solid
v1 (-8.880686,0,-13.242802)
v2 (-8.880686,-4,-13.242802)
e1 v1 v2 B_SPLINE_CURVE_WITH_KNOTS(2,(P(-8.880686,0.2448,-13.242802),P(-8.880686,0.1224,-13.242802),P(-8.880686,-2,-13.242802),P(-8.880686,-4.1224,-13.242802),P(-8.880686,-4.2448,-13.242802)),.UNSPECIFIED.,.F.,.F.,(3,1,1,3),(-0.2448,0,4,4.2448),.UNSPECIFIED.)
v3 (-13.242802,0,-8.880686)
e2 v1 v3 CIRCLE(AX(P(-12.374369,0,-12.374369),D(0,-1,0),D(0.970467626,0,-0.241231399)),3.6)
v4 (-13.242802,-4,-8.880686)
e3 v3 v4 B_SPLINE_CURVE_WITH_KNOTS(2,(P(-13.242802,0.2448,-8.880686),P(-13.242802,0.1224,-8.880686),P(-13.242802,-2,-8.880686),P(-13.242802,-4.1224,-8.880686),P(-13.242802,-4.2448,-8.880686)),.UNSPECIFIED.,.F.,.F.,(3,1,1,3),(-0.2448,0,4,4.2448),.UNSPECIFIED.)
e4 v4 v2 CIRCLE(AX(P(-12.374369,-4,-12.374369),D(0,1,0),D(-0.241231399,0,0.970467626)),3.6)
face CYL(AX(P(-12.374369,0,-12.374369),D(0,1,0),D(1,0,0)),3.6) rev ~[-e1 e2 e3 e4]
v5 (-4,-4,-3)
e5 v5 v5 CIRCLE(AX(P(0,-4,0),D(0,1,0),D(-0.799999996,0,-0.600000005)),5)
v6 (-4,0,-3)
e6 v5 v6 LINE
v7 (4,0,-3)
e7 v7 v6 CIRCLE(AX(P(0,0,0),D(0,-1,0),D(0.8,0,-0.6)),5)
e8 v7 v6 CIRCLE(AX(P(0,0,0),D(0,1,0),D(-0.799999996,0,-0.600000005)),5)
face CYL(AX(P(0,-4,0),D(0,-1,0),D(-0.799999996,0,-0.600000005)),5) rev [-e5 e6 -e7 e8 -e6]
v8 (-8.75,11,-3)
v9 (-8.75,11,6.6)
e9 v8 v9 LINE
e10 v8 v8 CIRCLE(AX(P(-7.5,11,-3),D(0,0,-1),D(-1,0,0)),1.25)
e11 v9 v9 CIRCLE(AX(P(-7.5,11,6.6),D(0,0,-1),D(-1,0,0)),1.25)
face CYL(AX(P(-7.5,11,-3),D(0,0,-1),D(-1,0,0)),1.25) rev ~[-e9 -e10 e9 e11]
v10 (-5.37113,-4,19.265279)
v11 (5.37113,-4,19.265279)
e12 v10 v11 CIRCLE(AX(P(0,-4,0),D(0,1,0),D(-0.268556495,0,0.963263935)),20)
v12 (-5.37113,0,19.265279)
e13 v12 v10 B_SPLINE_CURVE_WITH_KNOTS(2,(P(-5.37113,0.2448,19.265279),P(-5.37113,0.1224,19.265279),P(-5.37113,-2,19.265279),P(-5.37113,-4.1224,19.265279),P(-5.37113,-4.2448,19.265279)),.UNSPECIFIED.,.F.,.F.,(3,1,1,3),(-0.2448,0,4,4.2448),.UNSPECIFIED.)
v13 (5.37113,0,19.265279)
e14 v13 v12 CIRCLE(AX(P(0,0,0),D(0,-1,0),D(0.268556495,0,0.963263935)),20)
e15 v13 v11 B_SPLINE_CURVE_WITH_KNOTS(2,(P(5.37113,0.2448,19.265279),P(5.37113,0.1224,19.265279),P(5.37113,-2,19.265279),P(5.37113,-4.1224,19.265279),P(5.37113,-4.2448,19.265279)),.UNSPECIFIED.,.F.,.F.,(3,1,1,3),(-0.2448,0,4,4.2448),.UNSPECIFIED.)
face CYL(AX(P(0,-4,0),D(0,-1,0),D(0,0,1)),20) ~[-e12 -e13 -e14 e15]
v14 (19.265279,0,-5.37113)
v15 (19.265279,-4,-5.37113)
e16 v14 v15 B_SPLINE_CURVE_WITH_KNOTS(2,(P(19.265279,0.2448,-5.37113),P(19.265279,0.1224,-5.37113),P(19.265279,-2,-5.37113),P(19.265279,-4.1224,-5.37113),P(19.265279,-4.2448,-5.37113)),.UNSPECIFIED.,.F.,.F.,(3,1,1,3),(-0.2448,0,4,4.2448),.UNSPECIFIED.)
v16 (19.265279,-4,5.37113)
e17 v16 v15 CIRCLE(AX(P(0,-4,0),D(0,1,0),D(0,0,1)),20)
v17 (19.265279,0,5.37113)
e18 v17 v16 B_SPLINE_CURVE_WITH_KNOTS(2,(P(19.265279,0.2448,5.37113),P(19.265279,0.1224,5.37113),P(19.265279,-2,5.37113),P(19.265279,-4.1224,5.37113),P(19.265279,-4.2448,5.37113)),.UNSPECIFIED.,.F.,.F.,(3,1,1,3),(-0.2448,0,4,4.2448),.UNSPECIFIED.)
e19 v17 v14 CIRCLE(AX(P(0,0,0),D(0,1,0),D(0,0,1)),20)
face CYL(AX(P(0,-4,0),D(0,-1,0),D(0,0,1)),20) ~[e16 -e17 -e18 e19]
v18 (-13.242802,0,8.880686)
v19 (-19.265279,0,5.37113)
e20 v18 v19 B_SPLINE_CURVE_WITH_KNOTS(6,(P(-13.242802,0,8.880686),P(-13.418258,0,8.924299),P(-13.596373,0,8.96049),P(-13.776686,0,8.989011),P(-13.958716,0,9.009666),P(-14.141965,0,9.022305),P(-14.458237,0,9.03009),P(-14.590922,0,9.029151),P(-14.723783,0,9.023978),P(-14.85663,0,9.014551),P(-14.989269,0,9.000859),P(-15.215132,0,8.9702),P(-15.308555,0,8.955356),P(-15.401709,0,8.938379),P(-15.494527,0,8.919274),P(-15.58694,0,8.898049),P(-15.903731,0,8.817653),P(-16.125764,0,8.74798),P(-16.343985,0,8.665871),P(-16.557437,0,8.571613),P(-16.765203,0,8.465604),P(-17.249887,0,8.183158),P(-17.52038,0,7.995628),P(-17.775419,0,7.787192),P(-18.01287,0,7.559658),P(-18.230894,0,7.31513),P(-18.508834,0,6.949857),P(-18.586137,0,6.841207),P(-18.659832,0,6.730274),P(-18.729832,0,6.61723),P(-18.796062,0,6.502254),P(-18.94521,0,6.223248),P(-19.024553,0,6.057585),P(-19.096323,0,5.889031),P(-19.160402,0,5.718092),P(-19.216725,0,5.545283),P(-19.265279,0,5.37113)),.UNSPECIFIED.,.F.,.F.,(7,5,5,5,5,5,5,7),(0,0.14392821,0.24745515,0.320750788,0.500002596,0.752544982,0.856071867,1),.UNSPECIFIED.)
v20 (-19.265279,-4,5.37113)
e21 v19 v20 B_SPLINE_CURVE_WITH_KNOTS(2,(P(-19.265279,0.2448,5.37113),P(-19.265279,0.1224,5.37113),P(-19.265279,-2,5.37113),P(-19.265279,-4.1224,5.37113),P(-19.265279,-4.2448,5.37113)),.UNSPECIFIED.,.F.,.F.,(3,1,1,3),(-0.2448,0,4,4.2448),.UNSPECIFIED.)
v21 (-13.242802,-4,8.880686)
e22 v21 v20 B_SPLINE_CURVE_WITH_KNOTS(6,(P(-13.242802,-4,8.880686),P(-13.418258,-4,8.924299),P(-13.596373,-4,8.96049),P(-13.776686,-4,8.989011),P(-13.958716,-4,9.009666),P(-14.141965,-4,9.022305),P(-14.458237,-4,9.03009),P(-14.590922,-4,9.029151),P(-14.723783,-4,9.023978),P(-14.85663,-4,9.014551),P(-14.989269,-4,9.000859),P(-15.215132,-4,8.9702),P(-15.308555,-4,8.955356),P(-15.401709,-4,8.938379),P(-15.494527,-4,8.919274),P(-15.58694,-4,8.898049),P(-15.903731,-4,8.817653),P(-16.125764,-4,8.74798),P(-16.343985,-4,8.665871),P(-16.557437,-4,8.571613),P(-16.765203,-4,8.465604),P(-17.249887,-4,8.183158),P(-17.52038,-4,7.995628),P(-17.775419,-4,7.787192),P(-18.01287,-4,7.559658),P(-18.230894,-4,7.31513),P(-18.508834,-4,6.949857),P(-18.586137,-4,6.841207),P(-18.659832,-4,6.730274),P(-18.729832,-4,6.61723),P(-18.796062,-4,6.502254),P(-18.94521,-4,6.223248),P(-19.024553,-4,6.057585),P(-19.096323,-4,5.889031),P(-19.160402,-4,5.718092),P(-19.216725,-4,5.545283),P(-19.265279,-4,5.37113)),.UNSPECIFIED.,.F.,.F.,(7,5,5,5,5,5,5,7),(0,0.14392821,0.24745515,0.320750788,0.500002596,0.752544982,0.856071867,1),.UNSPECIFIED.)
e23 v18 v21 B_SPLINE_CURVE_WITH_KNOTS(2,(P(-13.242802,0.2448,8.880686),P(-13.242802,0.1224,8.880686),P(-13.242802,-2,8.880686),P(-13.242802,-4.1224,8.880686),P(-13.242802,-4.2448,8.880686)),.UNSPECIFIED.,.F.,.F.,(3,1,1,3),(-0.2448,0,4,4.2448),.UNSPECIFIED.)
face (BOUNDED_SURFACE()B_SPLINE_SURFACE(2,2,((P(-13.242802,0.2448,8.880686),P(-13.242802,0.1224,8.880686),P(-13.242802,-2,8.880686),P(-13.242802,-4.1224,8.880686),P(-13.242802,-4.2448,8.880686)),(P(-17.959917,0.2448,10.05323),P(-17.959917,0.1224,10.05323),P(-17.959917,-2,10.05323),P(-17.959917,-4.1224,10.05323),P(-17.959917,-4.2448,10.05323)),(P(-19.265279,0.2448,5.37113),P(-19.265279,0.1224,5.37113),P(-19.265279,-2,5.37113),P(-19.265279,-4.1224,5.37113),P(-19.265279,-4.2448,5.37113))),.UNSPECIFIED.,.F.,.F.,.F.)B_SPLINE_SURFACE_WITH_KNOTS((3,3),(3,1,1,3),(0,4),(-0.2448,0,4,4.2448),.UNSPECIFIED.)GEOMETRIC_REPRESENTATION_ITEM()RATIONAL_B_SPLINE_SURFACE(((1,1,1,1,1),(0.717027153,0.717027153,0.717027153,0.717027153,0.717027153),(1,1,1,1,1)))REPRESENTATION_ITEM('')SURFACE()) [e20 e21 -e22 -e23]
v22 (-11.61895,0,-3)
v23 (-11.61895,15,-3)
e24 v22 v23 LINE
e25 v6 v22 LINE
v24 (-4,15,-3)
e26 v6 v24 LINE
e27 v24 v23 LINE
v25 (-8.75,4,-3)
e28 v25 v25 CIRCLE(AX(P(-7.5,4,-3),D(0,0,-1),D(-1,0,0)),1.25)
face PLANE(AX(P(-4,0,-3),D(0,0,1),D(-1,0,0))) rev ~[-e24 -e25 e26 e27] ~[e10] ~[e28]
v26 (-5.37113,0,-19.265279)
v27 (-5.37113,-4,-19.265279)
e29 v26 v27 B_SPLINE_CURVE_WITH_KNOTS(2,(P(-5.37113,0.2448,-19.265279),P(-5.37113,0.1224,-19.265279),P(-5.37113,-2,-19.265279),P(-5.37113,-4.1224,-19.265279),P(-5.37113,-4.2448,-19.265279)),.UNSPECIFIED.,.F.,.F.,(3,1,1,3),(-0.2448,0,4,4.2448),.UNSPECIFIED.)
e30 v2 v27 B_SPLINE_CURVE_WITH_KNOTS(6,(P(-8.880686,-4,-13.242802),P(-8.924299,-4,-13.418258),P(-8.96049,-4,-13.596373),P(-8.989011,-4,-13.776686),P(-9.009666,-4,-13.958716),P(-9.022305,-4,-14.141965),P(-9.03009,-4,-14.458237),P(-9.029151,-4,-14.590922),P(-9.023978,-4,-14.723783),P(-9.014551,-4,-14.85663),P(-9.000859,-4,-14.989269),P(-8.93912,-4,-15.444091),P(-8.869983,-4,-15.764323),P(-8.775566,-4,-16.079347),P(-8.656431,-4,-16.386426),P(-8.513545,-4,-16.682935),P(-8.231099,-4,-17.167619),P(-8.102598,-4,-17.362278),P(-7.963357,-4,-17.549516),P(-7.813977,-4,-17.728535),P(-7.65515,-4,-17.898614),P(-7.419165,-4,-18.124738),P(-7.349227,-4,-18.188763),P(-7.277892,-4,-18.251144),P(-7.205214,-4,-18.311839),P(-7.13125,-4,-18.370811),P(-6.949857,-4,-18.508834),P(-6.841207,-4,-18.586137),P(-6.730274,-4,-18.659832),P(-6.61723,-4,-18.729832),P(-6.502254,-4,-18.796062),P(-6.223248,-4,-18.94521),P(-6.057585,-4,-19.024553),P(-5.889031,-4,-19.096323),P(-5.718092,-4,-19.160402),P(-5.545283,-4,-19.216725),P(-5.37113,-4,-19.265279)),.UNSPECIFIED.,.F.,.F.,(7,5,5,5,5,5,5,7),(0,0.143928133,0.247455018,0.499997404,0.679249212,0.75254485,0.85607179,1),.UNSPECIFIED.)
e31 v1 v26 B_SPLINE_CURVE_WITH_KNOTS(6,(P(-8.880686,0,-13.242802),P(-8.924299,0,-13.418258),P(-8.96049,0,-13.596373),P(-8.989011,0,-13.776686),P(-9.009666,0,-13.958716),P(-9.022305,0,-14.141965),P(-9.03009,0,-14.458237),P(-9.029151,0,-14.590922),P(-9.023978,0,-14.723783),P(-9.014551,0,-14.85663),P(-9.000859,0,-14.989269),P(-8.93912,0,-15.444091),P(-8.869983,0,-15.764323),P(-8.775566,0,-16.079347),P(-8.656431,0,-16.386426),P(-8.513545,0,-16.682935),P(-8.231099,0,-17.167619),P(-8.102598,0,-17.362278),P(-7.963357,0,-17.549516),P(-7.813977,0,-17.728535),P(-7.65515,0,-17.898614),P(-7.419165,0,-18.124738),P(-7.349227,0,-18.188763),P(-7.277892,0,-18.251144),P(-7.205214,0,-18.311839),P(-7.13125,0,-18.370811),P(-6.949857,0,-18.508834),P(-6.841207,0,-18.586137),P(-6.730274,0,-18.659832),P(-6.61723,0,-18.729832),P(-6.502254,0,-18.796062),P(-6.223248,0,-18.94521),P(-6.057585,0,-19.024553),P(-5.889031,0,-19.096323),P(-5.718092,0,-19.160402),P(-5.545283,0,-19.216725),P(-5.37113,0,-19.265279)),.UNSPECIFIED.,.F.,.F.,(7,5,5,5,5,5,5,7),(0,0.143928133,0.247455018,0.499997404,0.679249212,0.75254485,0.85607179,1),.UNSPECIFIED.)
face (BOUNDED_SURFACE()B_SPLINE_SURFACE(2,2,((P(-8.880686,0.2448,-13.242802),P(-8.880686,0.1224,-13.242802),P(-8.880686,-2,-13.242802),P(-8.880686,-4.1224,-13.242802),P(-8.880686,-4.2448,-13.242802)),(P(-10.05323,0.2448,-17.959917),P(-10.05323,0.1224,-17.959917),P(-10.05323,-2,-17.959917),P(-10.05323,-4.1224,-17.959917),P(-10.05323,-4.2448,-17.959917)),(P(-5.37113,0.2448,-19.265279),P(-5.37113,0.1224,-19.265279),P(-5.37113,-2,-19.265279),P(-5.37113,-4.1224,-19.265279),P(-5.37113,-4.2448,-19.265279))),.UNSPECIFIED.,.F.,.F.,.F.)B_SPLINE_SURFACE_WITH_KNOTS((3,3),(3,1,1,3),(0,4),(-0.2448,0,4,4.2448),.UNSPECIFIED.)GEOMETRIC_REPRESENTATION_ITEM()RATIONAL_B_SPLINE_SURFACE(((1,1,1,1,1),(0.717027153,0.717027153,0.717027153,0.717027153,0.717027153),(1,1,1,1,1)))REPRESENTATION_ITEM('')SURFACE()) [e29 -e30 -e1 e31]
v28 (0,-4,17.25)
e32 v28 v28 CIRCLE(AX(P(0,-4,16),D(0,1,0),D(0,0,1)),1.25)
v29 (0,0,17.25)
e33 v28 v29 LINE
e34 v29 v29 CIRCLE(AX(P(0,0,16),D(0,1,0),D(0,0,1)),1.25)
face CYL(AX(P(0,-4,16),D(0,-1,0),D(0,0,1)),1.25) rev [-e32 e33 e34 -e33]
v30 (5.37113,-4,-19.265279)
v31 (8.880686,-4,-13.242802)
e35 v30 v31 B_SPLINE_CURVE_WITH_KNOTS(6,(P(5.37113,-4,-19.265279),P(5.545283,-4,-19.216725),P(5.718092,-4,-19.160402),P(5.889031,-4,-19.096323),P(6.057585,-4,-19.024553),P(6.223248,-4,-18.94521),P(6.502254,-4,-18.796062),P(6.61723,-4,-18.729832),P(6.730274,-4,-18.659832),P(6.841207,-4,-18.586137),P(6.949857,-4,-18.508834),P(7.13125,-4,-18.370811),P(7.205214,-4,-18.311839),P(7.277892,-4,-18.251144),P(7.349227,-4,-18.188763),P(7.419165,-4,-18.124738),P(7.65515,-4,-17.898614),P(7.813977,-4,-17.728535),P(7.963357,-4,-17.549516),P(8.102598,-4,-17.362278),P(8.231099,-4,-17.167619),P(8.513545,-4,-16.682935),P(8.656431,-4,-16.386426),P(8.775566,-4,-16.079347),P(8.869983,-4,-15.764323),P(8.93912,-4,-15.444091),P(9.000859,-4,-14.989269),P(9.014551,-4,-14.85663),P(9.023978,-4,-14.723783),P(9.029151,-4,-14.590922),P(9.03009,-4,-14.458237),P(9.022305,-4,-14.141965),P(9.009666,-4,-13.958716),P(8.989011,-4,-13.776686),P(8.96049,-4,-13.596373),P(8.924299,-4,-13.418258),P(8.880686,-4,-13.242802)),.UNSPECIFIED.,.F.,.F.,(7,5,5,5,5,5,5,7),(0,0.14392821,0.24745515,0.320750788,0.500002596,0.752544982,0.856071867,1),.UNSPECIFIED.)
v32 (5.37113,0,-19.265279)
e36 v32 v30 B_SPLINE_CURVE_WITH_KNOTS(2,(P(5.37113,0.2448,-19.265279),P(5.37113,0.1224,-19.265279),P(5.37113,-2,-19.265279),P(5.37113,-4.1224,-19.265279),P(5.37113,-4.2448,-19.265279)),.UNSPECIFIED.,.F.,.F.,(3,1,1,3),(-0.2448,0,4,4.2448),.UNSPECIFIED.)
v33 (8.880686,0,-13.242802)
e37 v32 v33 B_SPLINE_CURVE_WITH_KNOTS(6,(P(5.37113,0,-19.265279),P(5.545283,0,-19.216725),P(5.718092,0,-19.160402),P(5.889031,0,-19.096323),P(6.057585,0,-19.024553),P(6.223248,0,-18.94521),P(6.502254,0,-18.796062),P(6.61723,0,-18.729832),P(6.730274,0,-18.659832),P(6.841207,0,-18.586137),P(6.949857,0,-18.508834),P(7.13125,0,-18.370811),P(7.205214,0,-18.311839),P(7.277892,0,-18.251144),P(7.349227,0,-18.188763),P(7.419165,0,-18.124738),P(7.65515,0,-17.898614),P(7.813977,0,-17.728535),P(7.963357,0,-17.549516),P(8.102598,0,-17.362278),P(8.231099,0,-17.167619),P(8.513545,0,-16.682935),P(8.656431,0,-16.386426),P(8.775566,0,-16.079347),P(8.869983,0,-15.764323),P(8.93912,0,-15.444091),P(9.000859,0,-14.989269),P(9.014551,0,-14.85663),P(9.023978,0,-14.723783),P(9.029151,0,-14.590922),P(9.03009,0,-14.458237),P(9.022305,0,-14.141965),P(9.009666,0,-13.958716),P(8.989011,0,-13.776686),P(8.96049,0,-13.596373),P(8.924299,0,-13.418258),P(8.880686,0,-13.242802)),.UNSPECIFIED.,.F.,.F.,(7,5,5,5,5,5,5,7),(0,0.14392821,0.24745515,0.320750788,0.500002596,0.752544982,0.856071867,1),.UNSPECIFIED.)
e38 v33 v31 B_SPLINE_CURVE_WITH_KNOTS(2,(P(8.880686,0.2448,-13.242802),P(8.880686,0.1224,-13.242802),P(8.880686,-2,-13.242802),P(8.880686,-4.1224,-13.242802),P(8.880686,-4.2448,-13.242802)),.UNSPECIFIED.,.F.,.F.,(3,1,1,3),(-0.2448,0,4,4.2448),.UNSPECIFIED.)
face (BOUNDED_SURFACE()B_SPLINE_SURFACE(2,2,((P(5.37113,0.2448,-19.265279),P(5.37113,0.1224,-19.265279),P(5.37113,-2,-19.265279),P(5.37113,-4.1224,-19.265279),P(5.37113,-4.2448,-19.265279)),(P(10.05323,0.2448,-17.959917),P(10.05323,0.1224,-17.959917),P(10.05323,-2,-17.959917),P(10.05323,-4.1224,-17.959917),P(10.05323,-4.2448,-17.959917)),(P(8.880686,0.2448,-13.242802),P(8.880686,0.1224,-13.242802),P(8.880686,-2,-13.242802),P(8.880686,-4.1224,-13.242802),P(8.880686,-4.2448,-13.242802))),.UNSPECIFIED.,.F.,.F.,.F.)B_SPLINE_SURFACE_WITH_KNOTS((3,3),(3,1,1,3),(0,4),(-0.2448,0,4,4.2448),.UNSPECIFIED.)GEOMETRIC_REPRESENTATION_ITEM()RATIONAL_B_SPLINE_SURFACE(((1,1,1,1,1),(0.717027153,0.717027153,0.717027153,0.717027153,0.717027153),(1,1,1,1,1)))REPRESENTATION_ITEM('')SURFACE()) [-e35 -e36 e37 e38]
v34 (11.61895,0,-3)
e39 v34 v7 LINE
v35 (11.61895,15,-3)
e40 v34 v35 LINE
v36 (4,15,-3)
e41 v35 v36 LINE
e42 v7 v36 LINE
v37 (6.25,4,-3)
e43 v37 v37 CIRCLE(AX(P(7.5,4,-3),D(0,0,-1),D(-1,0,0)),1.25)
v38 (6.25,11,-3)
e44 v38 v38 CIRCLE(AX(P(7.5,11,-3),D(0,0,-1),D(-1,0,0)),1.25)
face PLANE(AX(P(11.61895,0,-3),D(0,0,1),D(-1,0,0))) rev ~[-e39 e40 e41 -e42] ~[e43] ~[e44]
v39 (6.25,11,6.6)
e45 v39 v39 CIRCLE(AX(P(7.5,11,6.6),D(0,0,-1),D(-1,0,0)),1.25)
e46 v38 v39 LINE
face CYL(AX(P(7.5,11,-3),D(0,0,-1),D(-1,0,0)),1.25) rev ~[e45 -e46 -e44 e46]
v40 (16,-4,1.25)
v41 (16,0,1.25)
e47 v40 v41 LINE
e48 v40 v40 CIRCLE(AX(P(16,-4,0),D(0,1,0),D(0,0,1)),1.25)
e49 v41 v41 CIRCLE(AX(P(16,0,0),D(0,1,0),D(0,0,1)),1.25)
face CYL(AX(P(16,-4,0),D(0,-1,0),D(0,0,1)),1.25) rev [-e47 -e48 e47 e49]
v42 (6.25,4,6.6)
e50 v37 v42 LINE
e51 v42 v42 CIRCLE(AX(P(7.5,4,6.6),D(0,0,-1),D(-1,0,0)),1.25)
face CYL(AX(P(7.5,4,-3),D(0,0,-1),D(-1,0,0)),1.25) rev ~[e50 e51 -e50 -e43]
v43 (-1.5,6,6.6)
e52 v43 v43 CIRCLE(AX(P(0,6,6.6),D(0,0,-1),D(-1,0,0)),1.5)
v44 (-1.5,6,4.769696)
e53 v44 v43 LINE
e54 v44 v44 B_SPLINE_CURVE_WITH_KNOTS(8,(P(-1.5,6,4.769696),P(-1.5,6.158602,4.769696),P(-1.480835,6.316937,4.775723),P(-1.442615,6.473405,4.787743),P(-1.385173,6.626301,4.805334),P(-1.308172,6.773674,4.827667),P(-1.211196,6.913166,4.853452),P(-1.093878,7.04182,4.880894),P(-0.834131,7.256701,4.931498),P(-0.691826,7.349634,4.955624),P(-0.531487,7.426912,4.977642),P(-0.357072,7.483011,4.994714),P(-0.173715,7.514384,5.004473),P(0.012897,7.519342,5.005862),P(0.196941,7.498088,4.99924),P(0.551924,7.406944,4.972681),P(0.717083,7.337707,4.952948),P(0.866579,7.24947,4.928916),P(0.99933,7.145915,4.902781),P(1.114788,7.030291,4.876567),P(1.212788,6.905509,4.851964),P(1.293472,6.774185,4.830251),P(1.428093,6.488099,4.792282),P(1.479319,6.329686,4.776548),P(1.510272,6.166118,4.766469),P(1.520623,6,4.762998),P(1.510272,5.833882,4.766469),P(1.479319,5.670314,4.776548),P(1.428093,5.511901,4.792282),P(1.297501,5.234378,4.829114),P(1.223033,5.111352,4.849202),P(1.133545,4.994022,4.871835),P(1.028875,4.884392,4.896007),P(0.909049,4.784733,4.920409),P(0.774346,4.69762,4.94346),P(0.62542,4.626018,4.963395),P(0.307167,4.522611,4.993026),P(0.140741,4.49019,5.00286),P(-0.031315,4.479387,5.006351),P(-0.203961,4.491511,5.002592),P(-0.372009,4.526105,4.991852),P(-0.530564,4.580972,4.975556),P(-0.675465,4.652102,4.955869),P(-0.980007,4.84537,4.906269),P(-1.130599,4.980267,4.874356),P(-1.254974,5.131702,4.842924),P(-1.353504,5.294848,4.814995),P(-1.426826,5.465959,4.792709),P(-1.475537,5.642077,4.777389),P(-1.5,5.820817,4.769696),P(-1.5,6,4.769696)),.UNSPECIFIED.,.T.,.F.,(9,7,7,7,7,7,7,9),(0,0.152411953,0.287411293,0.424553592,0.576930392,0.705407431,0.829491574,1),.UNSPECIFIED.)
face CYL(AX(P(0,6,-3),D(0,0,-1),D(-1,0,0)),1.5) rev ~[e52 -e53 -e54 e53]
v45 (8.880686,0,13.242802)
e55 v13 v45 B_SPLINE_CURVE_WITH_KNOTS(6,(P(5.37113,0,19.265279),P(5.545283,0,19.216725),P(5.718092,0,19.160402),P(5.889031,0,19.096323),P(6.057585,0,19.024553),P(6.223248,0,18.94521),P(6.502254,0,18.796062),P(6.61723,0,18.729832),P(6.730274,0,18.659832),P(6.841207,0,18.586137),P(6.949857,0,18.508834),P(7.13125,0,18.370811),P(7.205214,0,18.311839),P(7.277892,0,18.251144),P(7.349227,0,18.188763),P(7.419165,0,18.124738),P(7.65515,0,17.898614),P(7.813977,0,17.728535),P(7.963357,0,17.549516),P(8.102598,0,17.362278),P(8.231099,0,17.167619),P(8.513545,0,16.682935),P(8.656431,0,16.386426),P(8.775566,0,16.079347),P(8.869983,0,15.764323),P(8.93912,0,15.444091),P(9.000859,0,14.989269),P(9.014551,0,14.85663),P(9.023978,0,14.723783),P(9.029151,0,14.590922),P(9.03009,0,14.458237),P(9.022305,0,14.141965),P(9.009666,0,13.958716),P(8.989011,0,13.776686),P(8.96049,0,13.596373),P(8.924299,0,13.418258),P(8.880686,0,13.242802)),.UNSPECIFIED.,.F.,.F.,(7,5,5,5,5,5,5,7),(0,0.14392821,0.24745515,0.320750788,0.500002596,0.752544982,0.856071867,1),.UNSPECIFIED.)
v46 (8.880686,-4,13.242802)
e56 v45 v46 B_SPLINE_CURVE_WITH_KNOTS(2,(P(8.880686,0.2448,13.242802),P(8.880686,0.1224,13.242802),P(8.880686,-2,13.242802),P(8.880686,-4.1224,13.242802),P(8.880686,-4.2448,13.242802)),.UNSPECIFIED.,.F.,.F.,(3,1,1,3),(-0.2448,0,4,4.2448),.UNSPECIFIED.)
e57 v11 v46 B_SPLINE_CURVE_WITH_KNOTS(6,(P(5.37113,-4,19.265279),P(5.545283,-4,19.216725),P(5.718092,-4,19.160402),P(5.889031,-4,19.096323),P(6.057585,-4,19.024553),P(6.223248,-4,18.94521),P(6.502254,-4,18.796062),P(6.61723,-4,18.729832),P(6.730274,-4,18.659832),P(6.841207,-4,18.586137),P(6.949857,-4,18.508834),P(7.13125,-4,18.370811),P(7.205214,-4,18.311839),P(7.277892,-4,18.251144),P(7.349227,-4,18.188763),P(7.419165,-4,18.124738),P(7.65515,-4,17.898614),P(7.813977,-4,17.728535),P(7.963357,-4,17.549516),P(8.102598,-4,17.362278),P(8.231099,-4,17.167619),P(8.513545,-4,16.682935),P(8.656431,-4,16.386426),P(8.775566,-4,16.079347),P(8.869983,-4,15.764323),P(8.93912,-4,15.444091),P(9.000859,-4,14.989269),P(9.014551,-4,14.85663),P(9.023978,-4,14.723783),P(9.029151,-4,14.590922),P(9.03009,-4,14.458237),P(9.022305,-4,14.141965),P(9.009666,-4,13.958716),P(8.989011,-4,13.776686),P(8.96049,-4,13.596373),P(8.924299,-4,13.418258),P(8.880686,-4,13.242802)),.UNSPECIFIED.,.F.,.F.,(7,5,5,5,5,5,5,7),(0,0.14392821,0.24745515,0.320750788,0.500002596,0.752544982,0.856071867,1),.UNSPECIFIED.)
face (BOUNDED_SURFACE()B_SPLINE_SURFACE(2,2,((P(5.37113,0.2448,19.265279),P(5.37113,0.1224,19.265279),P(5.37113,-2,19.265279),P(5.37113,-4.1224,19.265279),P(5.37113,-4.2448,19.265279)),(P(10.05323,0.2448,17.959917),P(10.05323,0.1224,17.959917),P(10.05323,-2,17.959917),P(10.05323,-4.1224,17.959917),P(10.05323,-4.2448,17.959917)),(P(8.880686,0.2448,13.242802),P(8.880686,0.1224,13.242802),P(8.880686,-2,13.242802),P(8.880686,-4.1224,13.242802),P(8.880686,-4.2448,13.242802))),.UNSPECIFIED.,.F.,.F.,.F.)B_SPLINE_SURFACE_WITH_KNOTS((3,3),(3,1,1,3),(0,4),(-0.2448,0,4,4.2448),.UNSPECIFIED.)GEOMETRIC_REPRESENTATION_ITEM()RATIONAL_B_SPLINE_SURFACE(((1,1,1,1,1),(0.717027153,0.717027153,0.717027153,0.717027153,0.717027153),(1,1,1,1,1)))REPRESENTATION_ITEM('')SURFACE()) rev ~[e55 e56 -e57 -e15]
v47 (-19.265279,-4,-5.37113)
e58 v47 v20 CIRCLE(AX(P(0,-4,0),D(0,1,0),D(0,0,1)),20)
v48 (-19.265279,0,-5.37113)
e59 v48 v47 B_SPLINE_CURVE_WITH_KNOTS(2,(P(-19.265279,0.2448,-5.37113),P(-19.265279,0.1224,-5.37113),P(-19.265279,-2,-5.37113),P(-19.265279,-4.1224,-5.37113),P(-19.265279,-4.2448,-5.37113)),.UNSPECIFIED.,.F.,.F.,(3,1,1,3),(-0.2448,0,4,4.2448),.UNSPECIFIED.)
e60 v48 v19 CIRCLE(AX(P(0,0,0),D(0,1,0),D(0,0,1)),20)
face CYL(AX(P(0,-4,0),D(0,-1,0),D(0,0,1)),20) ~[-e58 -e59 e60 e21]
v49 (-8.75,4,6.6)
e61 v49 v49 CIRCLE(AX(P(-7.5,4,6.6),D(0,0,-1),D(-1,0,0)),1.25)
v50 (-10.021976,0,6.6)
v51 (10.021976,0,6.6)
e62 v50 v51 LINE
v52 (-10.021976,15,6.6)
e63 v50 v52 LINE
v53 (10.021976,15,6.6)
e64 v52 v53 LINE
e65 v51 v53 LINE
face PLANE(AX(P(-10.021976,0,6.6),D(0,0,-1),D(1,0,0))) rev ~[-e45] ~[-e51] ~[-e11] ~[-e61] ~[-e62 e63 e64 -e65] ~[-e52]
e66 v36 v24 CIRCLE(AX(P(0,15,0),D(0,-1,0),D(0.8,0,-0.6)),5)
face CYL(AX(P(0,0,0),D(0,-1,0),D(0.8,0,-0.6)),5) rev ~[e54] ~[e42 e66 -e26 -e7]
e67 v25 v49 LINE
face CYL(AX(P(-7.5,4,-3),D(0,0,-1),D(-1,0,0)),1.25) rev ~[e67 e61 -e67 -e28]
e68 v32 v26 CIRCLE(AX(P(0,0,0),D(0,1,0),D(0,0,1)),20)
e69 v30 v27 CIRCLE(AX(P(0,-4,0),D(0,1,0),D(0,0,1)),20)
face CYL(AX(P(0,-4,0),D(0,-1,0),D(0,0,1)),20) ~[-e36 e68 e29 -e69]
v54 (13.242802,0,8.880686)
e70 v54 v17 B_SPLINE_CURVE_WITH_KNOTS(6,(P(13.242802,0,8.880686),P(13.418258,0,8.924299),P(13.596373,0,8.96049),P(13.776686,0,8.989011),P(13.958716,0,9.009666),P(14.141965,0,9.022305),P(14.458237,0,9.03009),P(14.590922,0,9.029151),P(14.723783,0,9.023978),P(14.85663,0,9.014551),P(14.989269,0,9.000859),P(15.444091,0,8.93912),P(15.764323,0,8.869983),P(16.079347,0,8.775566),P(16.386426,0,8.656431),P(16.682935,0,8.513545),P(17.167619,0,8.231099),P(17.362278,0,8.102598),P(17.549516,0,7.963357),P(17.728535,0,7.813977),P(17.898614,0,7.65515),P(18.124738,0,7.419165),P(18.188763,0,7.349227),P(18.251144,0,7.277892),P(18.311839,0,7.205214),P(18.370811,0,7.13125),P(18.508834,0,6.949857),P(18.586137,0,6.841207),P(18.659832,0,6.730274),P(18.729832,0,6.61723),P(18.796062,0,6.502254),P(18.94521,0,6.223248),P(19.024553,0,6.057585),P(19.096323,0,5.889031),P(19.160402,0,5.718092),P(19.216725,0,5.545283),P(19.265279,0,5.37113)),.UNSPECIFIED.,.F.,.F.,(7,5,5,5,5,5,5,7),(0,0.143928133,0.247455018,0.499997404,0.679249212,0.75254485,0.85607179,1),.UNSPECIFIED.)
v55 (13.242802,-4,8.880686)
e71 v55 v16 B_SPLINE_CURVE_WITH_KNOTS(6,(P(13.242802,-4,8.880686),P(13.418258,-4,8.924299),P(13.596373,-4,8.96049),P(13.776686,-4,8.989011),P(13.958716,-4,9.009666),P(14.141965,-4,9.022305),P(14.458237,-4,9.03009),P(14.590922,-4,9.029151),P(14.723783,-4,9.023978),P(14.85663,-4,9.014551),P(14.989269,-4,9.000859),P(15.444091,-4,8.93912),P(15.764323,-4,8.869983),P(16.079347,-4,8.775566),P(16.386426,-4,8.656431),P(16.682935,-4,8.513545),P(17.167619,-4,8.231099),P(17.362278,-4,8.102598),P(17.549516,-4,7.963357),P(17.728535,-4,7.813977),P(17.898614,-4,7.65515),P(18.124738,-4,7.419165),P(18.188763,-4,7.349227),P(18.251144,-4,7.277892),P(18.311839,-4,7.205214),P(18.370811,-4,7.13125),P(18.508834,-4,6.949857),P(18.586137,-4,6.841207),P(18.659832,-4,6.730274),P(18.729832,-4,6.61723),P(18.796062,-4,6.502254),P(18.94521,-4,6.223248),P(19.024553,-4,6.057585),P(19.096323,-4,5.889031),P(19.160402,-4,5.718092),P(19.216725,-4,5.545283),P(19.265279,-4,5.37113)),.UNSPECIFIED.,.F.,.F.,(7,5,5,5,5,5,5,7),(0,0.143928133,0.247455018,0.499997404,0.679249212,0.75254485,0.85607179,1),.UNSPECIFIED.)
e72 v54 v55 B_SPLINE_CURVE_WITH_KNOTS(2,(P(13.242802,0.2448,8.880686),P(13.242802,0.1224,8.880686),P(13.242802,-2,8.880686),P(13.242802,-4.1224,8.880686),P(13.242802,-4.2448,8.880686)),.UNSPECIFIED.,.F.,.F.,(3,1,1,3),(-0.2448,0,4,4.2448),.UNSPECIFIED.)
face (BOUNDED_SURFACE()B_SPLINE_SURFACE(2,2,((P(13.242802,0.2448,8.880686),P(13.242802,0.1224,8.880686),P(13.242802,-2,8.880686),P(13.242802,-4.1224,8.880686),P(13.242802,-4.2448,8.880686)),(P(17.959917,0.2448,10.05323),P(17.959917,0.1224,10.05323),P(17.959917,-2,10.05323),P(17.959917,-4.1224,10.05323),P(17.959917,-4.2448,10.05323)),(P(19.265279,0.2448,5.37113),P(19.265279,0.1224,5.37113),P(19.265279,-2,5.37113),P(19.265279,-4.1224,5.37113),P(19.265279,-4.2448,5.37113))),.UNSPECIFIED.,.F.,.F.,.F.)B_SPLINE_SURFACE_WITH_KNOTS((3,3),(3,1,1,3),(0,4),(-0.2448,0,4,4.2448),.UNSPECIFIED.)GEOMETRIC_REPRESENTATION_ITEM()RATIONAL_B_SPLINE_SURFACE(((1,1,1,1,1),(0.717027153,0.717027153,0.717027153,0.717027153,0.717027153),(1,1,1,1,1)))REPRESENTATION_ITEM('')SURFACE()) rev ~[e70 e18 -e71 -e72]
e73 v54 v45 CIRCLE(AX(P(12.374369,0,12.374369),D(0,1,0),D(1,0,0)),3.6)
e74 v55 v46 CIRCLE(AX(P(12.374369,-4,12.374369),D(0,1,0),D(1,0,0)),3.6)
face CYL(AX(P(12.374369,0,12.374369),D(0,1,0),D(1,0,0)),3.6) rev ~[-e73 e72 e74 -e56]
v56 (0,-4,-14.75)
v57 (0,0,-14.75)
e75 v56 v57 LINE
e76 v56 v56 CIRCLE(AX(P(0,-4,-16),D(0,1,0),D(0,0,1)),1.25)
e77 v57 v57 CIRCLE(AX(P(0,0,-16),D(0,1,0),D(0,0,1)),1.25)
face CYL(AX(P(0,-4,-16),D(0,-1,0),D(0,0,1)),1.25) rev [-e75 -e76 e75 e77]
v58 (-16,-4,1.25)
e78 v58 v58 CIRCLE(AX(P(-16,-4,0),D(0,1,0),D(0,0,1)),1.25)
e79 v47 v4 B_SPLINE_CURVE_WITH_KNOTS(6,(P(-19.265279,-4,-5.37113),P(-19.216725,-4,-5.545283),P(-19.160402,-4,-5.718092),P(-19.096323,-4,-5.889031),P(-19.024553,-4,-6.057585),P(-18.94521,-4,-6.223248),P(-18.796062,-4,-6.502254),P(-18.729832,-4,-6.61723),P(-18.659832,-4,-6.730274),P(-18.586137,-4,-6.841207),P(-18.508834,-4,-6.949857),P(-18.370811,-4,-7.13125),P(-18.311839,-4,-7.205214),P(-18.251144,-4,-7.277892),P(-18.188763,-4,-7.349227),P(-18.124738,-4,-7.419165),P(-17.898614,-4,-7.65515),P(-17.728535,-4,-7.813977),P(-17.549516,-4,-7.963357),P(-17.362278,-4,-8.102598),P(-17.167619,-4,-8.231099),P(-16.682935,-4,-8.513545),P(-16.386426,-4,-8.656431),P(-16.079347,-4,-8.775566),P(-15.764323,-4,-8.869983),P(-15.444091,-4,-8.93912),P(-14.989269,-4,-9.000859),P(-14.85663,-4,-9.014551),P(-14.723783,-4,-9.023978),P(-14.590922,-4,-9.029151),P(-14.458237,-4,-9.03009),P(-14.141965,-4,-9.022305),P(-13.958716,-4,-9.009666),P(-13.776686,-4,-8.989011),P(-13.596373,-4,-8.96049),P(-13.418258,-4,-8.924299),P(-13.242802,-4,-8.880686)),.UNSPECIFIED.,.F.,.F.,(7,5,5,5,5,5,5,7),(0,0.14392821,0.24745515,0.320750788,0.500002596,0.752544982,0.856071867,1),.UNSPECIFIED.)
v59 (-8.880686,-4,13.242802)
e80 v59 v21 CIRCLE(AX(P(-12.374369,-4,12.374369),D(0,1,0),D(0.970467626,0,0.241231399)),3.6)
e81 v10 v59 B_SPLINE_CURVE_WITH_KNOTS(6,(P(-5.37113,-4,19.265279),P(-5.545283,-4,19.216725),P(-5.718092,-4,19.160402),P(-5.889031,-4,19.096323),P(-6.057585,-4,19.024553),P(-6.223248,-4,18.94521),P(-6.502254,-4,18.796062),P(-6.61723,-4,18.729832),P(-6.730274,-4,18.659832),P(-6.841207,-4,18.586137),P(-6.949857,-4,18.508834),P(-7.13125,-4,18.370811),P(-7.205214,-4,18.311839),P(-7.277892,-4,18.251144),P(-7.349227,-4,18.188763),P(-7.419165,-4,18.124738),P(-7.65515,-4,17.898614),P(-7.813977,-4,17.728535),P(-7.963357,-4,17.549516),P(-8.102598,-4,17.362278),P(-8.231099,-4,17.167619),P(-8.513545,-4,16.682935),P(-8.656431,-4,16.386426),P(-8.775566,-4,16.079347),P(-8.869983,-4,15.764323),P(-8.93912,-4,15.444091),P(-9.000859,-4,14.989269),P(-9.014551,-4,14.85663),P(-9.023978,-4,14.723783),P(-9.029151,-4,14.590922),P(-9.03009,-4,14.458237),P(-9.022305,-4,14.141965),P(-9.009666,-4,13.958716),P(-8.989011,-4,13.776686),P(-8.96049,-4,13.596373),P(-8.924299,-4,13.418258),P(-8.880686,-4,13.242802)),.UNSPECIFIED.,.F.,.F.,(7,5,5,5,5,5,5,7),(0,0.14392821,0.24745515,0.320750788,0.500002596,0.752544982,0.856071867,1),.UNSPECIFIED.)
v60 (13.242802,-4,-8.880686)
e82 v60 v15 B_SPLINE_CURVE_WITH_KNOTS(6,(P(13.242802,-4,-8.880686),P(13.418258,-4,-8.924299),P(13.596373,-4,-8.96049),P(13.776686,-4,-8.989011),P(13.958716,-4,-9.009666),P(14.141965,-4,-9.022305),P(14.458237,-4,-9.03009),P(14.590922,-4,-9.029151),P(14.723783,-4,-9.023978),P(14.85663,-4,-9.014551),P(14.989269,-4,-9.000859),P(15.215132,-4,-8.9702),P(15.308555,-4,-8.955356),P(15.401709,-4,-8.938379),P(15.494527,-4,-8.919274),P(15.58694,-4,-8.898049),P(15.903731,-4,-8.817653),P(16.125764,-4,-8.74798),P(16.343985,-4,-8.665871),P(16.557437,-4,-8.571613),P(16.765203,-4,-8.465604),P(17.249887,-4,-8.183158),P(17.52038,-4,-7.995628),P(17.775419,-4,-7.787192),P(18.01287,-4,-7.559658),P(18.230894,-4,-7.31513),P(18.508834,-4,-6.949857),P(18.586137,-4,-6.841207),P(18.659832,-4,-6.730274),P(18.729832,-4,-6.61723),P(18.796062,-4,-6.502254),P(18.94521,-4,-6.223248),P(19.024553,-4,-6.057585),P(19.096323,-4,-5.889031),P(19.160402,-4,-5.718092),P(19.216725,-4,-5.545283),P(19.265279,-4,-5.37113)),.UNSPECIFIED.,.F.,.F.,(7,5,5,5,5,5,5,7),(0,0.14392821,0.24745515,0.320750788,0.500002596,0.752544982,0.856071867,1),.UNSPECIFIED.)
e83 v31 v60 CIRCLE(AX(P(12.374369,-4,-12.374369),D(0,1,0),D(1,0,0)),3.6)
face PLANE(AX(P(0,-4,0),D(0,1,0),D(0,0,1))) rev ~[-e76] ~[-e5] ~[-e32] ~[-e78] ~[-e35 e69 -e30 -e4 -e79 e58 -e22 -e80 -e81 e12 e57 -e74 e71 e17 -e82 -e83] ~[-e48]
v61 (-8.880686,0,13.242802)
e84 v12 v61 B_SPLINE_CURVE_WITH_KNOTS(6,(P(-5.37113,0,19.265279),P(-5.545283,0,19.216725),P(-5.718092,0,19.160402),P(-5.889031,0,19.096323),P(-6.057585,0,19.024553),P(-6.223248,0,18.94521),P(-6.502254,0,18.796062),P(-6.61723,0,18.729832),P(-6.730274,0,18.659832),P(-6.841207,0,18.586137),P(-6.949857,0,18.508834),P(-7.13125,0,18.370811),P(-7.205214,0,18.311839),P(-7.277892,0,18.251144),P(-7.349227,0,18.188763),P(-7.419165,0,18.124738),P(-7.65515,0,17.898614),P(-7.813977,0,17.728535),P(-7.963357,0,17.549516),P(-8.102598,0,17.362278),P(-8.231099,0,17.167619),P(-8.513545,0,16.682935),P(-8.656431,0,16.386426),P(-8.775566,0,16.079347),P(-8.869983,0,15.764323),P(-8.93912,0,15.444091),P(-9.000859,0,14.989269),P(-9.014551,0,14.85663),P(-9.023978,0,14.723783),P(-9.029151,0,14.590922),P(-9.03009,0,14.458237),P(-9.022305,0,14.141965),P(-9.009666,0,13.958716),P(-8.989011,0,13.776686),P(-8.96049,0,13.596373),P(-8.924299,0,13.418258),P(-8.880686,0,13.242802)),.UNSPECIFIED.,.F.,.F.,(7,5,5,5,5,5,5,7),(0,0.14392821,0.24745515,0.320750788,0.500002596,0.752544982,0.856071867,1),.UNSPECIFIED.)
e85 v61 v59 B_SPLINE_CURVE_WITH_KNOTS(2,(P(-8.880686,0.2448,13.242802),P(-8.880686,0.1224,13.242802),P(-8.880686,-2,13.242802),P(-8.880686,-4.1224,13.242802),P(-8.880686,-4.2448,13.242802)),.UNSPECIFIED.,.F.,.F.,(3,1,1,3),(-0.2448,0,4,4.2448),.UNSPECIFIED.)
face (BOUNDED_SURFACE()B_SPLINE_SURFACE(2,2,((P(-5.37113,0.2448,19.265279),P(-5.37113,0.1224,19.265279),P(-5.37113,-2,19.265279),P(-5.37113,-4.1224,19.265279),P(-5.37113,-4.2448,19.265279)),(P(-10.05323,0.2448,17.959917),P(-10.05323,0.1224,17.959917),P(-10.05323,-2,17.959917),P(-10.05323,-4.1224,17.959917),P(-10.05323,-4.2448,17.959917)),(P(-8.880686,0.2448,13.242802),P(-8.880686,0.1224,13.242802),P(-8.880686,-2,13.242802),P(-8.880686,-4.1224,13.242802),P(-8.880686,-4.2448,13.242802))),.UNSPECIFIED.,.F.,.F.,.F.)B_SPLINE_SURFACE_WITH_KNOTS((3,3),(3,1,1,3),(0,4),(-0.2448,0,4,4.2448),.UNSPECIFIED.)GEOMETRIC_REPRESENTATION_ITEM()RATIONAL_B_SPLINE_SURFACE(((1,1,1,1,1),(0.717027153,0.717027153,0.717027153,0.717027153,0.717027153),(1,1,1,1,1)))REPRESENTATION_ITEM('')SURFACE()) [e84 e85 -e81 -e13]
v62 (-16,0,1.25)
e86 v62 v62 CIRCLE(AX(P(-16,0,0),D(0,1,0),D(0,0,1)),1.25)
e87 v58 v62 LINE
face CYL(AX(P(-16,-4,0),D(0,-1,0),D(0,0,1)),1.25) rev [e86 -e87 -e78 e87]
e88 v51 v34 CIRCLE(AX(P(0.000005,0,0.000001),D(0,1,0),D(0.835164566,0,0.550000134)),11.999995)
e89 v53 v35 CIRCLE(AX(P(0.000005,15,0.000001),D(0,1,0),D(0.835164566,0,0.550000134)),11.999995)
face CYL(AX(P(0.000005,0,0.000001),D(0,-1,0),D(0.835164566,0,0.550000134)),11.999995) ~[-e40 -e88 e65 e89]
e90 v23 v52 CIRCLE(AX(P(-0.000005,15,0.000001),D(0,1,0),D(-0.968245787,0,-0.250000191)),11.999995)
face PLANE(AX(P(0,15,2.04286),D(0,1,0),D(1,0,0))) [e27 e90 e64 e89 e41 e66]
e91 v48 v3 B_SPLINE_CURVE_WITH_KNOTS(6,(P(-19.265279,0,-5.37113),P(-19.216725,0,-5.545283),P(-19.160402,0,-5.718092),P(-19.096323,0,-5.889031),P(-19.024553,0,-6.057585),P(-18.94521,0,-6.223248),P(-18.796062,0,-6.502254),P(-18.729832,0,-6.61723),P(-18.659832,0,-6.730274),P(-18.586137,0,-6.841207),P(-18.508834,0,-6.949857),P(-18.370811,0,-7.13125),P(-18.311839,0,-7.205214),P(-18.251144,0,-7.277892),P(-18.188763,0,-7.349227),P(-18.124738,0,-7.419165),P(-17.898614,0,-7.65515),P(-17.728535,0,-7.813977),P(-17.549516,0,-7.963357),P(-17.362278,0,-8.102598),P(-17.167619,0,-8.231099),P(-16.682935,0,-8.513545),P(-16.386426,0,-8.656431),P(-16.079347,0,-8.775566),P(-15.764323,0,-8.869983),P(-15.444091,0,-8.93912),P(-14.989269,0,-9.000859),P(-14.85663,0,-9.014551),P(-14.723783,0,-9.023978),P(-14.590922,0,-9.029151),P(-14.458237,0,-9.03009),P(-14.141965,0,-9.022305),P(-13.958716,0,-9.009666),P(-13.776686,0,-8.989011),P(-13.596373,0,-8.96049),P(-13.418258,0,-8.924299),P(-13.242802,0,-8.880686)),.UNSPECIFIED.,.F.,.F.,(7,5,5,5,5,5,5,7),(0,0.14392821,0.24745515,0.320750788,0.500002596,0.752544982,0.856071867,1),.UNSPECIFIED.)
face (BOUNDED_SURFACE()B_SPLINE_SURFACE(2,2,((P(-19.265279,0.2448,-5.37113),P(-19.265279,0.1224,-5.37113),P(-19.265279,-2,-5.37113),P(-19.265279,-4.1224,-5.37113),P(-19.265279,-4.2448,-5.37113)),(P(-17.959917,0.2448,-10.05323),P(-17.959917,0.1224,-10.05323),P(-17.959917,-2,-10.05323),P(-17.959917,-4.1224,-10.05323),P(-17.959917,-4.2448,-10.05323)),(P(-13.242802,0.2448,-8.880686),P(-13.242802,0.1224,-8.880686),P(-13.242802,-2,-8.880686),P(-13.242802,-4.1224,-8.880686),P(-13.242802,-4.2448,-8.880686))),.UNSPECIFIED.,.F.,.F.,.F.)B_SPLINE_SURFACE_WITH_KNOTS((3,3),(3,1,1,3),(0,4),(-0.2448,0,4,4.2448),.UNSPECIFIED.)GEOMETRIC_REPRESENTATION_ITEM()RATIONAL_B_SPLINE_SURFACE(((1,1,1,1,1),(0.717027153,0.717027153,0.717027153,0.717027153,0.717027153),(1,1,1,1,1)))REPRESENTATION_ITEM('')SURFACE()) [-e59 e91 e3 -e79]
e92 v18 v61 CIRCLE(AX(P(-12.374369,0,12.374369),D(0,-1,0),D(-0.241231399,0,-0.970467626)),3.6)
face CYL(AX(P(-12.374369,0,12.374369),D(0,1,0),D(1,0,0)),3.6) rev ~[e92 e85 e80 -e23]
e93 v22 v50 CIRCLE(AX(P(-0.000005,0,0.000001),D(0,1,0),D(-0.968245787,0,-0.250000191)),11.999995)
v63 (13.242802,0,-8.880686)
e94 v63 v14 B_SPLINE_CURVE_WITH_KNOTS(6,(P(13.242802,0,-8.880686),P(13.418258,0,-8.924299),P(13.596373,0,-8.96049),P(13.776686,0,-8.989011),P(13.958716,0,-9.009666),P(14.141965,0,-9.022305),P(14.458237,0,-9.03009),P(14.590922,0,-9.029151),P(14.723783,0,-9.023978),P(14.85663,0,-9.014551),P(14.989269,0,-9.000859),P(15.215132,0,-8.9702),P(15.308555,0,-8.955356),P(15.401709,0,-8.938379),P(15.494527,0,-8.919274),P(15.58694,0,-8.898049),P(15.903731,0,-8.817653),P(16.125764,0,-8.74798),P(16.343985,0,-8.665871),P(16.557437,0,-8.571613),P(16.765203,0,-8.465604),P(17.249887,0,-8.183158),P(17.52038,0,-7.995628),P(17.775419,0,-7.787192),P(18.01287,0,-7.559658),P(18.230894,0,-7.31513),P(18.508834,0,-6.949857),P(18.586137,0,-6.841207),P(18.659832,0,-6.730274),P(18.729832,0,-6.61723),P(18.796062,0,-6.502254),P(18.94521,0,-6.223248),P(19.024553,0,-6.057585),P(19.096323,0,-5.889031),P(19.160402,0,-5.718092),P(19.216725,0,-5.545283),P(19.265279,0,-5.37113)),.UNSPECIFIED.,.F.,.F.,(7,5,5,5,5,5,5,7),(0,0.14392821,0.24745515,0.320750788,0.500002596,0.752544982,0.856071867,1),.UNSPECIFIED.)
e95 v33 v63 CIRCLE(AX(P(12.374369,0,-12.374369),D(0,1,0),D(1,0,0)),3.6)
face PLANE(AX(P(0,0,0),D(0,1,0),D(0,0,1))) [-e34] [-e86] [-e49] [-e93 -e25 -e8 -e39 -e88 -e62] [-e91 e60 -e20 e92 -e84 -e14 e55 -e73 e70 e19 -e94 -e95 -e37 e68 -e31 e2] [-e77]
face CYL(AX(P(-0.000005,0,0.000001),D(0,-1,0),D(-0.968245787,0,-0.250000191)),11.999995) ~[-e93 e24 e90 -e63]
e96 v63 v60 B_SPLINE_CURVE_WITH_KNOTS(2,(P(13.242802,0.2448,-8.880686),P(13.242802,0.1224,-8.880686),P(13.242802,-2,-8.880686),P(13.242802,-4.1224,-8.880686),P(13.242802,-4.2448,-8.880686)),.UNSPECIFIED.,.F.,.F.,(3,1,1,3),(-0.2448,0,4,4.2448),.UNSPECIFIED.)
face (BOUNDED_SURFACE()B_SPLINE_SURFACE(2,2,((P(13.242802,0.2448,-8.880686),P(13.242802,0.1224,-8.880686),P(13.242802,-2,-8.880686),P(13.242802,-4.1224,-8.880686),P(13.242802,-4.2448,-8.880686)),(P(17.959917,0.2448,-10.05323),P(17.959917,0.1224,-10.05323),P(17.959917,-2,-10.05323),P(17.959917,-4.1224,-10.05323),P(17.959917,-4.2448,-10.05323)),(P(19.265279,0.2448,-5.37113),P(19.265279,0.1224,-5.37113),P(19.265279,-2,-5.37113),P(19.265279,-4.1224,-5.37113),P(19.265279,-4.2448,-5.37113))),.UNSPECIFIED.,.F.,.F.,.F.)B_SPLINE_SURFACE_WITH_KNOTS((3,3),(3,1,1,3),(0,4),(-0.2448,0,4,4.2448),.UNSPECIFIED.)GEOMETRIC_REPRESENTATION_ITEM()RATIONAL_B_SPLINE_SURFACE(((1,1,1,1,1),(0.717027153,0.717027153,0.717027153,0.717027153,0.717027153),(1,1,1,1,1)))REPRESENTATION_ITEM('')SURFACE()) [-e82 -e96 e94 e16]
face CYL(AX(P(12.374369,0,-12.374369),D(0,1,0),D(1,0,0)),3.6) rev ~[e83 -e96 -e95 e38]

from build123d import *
from build123d.topology import SkipClean

# Parameters (mm, degrees)
EXTRUDE_1_DEPTH     = 15
EXTRUDE_START       = -4
SKETCH_3_R          = 20
SKETCH_3_R_2        = 1.25
SKETCH_3_R_3        = 5
EXTRUDE_2_DEPTH     = 4
SKETCH_4_R          = 3.6
CUT_EXTRUDE_1_DEPTH = 33.015621
FILLET_1_R          = 5
SKETCH_5_R          = 1.25
SKETCH_5_R_2        = 1.5
CUT_EXTRUDE_2_DEPTH = 34.970576


with BuildPart() as part:
    # 草图2 → 凸台-拉伸1 (new body)
    with BuildSketch(Plane(origin=(0, 0, 0), x_dir=(1, 0, 0), z_dir=(0, 1, 0))):
        with BuildLine():
            Line((-10.021976, -6.6), (10.021976, -6.6))
            ThreePointArc((10.021976, -6.6), (11.837332, -1.969158), (11.61895, 3))
            Line((11.61895, 3), (4, 3))
            ThreePointArc((4, 3), (0, -5), (-4, 3))
            Line((-4, 3), (-11.61895, 3))
            ThreePointArc((-11.61895, 3), (-11.837332, -1.969158), (-10.021976, -6.6))
        make_face()
    extrude(amount=EXTRUDE_1_DEPTH)

    # 草图3 → 凸台-拉伸2 (add)
    with SkipClean():  # the faces are left unmerged after this step: merging them gives an invalid solid
        with BuildSketch(Plane(origin=(0, 0, 0), x_dir=(1, 0, 0), z_dir=(0, 1, 0)).offset(EXTRUDE_START)):
            with Locations(Location((0, 0, 0), (0, 0, 270))):
                Circle(SKETCH_3_R)
            with Locations(Location((0, -16, 0), (0, 0, 270))):
                Circle(SKETCH_3_R_2, mode=Mode.SUBTRACT)
            with Locations(Location((16, 0, 0), (0, 0, 270))):
                Circle(SKETCH_3_R_2, mode=Mode.SUBTRACT)
            with Locations(Location((-16, 0, 0), (0, 0, 270))):
                Circle(SKETCH_3_R_2, mode=Mode.SUBTRACT)
            with Locations(Location((0, 16, 0), (0, 0, 270))):
                Circle(SKETCH_3_R_2, mode=Mode.SUBTRACT)
            with Locations(Location((0, 0, 0), (0, 0, 143.130102))):
                Circle(SKETCH_3_R_3, mode=Mode.SUBTRACT)
        extrude(amount=EXTRUDE_2_DEPTH)

    # 草图4 → 切除-拉伸1 (cut, through all)
    with SkipClean():  # the faces are left unmerged after this step: merging them gives an invalid solid
        with BuildSketch(Plane(origin=(0, 0, 0), x_dir=(1, 0, 0), z_dir=(0, 1, 0))):
            with Locations((12.374369, -12.374369)):
                Circle(SKETCH_4_R)
            with Locations((12.374369, 12.374369)):
                Circle(SKETCH_4_R)
            with Locations((-12.374369, 12.374369)):
                Circle(SKETCH_4_R)
            with Locations((-12.374369, -12.374369)):
                Circle(SKETCH_4_R)
        extrude(amount=-CUT_EXTRUDE_1_DEPTH, mode=Mode.SUBTRACT)

    # 圆角1
    fillet_1_edges = [part.edges().sort_by_distance(p)[0] for p in [
        (-12.053138, -2, 15.960008),
        (-15.960008, -2, 12.053138),
        (-15.960008, -2, -12.053138),
        (-12.053138, -2, -15.960008),
        (12.053138, -2, -15.960008),
        (15.960008, -2, -12.053138),
        (15.960008, -2, 12.053138),
        (12.053138, -2, 15.960008),
    ]]
    fillet(fillet_1_edges, radius=FILLET_1_R)

    # 草图5 → 切除-拉伸2 (cut, through all)
    with SkipClean():  # the faces are left unmerged after this step: merging them gives an invalid solid
        with BuildSketch(Plane(origin=(0, 0, -3), x_dir=(-1, 0, 0), z_dir=(0, 0, -1))):
            with Locations((-7.5, 11)):
                Circle(SKETCH_5_R)
            with Locations((-7.5, 4)):
                Circle(SKETCH_5_R)
            with Locations((7.5, 11)):
                Circle(SKETCH_5_R)
            with Locations((7.5, 4)):
                Circle(SKETCH_5_R)
            with Locations((0, 6)):
                Circle(SKETCH_5_R_2)
        extrude(amount=-CUT_EXTRUDE_2_DEPTH, mode=Mode.SUBTRACT)


solid = part.part
